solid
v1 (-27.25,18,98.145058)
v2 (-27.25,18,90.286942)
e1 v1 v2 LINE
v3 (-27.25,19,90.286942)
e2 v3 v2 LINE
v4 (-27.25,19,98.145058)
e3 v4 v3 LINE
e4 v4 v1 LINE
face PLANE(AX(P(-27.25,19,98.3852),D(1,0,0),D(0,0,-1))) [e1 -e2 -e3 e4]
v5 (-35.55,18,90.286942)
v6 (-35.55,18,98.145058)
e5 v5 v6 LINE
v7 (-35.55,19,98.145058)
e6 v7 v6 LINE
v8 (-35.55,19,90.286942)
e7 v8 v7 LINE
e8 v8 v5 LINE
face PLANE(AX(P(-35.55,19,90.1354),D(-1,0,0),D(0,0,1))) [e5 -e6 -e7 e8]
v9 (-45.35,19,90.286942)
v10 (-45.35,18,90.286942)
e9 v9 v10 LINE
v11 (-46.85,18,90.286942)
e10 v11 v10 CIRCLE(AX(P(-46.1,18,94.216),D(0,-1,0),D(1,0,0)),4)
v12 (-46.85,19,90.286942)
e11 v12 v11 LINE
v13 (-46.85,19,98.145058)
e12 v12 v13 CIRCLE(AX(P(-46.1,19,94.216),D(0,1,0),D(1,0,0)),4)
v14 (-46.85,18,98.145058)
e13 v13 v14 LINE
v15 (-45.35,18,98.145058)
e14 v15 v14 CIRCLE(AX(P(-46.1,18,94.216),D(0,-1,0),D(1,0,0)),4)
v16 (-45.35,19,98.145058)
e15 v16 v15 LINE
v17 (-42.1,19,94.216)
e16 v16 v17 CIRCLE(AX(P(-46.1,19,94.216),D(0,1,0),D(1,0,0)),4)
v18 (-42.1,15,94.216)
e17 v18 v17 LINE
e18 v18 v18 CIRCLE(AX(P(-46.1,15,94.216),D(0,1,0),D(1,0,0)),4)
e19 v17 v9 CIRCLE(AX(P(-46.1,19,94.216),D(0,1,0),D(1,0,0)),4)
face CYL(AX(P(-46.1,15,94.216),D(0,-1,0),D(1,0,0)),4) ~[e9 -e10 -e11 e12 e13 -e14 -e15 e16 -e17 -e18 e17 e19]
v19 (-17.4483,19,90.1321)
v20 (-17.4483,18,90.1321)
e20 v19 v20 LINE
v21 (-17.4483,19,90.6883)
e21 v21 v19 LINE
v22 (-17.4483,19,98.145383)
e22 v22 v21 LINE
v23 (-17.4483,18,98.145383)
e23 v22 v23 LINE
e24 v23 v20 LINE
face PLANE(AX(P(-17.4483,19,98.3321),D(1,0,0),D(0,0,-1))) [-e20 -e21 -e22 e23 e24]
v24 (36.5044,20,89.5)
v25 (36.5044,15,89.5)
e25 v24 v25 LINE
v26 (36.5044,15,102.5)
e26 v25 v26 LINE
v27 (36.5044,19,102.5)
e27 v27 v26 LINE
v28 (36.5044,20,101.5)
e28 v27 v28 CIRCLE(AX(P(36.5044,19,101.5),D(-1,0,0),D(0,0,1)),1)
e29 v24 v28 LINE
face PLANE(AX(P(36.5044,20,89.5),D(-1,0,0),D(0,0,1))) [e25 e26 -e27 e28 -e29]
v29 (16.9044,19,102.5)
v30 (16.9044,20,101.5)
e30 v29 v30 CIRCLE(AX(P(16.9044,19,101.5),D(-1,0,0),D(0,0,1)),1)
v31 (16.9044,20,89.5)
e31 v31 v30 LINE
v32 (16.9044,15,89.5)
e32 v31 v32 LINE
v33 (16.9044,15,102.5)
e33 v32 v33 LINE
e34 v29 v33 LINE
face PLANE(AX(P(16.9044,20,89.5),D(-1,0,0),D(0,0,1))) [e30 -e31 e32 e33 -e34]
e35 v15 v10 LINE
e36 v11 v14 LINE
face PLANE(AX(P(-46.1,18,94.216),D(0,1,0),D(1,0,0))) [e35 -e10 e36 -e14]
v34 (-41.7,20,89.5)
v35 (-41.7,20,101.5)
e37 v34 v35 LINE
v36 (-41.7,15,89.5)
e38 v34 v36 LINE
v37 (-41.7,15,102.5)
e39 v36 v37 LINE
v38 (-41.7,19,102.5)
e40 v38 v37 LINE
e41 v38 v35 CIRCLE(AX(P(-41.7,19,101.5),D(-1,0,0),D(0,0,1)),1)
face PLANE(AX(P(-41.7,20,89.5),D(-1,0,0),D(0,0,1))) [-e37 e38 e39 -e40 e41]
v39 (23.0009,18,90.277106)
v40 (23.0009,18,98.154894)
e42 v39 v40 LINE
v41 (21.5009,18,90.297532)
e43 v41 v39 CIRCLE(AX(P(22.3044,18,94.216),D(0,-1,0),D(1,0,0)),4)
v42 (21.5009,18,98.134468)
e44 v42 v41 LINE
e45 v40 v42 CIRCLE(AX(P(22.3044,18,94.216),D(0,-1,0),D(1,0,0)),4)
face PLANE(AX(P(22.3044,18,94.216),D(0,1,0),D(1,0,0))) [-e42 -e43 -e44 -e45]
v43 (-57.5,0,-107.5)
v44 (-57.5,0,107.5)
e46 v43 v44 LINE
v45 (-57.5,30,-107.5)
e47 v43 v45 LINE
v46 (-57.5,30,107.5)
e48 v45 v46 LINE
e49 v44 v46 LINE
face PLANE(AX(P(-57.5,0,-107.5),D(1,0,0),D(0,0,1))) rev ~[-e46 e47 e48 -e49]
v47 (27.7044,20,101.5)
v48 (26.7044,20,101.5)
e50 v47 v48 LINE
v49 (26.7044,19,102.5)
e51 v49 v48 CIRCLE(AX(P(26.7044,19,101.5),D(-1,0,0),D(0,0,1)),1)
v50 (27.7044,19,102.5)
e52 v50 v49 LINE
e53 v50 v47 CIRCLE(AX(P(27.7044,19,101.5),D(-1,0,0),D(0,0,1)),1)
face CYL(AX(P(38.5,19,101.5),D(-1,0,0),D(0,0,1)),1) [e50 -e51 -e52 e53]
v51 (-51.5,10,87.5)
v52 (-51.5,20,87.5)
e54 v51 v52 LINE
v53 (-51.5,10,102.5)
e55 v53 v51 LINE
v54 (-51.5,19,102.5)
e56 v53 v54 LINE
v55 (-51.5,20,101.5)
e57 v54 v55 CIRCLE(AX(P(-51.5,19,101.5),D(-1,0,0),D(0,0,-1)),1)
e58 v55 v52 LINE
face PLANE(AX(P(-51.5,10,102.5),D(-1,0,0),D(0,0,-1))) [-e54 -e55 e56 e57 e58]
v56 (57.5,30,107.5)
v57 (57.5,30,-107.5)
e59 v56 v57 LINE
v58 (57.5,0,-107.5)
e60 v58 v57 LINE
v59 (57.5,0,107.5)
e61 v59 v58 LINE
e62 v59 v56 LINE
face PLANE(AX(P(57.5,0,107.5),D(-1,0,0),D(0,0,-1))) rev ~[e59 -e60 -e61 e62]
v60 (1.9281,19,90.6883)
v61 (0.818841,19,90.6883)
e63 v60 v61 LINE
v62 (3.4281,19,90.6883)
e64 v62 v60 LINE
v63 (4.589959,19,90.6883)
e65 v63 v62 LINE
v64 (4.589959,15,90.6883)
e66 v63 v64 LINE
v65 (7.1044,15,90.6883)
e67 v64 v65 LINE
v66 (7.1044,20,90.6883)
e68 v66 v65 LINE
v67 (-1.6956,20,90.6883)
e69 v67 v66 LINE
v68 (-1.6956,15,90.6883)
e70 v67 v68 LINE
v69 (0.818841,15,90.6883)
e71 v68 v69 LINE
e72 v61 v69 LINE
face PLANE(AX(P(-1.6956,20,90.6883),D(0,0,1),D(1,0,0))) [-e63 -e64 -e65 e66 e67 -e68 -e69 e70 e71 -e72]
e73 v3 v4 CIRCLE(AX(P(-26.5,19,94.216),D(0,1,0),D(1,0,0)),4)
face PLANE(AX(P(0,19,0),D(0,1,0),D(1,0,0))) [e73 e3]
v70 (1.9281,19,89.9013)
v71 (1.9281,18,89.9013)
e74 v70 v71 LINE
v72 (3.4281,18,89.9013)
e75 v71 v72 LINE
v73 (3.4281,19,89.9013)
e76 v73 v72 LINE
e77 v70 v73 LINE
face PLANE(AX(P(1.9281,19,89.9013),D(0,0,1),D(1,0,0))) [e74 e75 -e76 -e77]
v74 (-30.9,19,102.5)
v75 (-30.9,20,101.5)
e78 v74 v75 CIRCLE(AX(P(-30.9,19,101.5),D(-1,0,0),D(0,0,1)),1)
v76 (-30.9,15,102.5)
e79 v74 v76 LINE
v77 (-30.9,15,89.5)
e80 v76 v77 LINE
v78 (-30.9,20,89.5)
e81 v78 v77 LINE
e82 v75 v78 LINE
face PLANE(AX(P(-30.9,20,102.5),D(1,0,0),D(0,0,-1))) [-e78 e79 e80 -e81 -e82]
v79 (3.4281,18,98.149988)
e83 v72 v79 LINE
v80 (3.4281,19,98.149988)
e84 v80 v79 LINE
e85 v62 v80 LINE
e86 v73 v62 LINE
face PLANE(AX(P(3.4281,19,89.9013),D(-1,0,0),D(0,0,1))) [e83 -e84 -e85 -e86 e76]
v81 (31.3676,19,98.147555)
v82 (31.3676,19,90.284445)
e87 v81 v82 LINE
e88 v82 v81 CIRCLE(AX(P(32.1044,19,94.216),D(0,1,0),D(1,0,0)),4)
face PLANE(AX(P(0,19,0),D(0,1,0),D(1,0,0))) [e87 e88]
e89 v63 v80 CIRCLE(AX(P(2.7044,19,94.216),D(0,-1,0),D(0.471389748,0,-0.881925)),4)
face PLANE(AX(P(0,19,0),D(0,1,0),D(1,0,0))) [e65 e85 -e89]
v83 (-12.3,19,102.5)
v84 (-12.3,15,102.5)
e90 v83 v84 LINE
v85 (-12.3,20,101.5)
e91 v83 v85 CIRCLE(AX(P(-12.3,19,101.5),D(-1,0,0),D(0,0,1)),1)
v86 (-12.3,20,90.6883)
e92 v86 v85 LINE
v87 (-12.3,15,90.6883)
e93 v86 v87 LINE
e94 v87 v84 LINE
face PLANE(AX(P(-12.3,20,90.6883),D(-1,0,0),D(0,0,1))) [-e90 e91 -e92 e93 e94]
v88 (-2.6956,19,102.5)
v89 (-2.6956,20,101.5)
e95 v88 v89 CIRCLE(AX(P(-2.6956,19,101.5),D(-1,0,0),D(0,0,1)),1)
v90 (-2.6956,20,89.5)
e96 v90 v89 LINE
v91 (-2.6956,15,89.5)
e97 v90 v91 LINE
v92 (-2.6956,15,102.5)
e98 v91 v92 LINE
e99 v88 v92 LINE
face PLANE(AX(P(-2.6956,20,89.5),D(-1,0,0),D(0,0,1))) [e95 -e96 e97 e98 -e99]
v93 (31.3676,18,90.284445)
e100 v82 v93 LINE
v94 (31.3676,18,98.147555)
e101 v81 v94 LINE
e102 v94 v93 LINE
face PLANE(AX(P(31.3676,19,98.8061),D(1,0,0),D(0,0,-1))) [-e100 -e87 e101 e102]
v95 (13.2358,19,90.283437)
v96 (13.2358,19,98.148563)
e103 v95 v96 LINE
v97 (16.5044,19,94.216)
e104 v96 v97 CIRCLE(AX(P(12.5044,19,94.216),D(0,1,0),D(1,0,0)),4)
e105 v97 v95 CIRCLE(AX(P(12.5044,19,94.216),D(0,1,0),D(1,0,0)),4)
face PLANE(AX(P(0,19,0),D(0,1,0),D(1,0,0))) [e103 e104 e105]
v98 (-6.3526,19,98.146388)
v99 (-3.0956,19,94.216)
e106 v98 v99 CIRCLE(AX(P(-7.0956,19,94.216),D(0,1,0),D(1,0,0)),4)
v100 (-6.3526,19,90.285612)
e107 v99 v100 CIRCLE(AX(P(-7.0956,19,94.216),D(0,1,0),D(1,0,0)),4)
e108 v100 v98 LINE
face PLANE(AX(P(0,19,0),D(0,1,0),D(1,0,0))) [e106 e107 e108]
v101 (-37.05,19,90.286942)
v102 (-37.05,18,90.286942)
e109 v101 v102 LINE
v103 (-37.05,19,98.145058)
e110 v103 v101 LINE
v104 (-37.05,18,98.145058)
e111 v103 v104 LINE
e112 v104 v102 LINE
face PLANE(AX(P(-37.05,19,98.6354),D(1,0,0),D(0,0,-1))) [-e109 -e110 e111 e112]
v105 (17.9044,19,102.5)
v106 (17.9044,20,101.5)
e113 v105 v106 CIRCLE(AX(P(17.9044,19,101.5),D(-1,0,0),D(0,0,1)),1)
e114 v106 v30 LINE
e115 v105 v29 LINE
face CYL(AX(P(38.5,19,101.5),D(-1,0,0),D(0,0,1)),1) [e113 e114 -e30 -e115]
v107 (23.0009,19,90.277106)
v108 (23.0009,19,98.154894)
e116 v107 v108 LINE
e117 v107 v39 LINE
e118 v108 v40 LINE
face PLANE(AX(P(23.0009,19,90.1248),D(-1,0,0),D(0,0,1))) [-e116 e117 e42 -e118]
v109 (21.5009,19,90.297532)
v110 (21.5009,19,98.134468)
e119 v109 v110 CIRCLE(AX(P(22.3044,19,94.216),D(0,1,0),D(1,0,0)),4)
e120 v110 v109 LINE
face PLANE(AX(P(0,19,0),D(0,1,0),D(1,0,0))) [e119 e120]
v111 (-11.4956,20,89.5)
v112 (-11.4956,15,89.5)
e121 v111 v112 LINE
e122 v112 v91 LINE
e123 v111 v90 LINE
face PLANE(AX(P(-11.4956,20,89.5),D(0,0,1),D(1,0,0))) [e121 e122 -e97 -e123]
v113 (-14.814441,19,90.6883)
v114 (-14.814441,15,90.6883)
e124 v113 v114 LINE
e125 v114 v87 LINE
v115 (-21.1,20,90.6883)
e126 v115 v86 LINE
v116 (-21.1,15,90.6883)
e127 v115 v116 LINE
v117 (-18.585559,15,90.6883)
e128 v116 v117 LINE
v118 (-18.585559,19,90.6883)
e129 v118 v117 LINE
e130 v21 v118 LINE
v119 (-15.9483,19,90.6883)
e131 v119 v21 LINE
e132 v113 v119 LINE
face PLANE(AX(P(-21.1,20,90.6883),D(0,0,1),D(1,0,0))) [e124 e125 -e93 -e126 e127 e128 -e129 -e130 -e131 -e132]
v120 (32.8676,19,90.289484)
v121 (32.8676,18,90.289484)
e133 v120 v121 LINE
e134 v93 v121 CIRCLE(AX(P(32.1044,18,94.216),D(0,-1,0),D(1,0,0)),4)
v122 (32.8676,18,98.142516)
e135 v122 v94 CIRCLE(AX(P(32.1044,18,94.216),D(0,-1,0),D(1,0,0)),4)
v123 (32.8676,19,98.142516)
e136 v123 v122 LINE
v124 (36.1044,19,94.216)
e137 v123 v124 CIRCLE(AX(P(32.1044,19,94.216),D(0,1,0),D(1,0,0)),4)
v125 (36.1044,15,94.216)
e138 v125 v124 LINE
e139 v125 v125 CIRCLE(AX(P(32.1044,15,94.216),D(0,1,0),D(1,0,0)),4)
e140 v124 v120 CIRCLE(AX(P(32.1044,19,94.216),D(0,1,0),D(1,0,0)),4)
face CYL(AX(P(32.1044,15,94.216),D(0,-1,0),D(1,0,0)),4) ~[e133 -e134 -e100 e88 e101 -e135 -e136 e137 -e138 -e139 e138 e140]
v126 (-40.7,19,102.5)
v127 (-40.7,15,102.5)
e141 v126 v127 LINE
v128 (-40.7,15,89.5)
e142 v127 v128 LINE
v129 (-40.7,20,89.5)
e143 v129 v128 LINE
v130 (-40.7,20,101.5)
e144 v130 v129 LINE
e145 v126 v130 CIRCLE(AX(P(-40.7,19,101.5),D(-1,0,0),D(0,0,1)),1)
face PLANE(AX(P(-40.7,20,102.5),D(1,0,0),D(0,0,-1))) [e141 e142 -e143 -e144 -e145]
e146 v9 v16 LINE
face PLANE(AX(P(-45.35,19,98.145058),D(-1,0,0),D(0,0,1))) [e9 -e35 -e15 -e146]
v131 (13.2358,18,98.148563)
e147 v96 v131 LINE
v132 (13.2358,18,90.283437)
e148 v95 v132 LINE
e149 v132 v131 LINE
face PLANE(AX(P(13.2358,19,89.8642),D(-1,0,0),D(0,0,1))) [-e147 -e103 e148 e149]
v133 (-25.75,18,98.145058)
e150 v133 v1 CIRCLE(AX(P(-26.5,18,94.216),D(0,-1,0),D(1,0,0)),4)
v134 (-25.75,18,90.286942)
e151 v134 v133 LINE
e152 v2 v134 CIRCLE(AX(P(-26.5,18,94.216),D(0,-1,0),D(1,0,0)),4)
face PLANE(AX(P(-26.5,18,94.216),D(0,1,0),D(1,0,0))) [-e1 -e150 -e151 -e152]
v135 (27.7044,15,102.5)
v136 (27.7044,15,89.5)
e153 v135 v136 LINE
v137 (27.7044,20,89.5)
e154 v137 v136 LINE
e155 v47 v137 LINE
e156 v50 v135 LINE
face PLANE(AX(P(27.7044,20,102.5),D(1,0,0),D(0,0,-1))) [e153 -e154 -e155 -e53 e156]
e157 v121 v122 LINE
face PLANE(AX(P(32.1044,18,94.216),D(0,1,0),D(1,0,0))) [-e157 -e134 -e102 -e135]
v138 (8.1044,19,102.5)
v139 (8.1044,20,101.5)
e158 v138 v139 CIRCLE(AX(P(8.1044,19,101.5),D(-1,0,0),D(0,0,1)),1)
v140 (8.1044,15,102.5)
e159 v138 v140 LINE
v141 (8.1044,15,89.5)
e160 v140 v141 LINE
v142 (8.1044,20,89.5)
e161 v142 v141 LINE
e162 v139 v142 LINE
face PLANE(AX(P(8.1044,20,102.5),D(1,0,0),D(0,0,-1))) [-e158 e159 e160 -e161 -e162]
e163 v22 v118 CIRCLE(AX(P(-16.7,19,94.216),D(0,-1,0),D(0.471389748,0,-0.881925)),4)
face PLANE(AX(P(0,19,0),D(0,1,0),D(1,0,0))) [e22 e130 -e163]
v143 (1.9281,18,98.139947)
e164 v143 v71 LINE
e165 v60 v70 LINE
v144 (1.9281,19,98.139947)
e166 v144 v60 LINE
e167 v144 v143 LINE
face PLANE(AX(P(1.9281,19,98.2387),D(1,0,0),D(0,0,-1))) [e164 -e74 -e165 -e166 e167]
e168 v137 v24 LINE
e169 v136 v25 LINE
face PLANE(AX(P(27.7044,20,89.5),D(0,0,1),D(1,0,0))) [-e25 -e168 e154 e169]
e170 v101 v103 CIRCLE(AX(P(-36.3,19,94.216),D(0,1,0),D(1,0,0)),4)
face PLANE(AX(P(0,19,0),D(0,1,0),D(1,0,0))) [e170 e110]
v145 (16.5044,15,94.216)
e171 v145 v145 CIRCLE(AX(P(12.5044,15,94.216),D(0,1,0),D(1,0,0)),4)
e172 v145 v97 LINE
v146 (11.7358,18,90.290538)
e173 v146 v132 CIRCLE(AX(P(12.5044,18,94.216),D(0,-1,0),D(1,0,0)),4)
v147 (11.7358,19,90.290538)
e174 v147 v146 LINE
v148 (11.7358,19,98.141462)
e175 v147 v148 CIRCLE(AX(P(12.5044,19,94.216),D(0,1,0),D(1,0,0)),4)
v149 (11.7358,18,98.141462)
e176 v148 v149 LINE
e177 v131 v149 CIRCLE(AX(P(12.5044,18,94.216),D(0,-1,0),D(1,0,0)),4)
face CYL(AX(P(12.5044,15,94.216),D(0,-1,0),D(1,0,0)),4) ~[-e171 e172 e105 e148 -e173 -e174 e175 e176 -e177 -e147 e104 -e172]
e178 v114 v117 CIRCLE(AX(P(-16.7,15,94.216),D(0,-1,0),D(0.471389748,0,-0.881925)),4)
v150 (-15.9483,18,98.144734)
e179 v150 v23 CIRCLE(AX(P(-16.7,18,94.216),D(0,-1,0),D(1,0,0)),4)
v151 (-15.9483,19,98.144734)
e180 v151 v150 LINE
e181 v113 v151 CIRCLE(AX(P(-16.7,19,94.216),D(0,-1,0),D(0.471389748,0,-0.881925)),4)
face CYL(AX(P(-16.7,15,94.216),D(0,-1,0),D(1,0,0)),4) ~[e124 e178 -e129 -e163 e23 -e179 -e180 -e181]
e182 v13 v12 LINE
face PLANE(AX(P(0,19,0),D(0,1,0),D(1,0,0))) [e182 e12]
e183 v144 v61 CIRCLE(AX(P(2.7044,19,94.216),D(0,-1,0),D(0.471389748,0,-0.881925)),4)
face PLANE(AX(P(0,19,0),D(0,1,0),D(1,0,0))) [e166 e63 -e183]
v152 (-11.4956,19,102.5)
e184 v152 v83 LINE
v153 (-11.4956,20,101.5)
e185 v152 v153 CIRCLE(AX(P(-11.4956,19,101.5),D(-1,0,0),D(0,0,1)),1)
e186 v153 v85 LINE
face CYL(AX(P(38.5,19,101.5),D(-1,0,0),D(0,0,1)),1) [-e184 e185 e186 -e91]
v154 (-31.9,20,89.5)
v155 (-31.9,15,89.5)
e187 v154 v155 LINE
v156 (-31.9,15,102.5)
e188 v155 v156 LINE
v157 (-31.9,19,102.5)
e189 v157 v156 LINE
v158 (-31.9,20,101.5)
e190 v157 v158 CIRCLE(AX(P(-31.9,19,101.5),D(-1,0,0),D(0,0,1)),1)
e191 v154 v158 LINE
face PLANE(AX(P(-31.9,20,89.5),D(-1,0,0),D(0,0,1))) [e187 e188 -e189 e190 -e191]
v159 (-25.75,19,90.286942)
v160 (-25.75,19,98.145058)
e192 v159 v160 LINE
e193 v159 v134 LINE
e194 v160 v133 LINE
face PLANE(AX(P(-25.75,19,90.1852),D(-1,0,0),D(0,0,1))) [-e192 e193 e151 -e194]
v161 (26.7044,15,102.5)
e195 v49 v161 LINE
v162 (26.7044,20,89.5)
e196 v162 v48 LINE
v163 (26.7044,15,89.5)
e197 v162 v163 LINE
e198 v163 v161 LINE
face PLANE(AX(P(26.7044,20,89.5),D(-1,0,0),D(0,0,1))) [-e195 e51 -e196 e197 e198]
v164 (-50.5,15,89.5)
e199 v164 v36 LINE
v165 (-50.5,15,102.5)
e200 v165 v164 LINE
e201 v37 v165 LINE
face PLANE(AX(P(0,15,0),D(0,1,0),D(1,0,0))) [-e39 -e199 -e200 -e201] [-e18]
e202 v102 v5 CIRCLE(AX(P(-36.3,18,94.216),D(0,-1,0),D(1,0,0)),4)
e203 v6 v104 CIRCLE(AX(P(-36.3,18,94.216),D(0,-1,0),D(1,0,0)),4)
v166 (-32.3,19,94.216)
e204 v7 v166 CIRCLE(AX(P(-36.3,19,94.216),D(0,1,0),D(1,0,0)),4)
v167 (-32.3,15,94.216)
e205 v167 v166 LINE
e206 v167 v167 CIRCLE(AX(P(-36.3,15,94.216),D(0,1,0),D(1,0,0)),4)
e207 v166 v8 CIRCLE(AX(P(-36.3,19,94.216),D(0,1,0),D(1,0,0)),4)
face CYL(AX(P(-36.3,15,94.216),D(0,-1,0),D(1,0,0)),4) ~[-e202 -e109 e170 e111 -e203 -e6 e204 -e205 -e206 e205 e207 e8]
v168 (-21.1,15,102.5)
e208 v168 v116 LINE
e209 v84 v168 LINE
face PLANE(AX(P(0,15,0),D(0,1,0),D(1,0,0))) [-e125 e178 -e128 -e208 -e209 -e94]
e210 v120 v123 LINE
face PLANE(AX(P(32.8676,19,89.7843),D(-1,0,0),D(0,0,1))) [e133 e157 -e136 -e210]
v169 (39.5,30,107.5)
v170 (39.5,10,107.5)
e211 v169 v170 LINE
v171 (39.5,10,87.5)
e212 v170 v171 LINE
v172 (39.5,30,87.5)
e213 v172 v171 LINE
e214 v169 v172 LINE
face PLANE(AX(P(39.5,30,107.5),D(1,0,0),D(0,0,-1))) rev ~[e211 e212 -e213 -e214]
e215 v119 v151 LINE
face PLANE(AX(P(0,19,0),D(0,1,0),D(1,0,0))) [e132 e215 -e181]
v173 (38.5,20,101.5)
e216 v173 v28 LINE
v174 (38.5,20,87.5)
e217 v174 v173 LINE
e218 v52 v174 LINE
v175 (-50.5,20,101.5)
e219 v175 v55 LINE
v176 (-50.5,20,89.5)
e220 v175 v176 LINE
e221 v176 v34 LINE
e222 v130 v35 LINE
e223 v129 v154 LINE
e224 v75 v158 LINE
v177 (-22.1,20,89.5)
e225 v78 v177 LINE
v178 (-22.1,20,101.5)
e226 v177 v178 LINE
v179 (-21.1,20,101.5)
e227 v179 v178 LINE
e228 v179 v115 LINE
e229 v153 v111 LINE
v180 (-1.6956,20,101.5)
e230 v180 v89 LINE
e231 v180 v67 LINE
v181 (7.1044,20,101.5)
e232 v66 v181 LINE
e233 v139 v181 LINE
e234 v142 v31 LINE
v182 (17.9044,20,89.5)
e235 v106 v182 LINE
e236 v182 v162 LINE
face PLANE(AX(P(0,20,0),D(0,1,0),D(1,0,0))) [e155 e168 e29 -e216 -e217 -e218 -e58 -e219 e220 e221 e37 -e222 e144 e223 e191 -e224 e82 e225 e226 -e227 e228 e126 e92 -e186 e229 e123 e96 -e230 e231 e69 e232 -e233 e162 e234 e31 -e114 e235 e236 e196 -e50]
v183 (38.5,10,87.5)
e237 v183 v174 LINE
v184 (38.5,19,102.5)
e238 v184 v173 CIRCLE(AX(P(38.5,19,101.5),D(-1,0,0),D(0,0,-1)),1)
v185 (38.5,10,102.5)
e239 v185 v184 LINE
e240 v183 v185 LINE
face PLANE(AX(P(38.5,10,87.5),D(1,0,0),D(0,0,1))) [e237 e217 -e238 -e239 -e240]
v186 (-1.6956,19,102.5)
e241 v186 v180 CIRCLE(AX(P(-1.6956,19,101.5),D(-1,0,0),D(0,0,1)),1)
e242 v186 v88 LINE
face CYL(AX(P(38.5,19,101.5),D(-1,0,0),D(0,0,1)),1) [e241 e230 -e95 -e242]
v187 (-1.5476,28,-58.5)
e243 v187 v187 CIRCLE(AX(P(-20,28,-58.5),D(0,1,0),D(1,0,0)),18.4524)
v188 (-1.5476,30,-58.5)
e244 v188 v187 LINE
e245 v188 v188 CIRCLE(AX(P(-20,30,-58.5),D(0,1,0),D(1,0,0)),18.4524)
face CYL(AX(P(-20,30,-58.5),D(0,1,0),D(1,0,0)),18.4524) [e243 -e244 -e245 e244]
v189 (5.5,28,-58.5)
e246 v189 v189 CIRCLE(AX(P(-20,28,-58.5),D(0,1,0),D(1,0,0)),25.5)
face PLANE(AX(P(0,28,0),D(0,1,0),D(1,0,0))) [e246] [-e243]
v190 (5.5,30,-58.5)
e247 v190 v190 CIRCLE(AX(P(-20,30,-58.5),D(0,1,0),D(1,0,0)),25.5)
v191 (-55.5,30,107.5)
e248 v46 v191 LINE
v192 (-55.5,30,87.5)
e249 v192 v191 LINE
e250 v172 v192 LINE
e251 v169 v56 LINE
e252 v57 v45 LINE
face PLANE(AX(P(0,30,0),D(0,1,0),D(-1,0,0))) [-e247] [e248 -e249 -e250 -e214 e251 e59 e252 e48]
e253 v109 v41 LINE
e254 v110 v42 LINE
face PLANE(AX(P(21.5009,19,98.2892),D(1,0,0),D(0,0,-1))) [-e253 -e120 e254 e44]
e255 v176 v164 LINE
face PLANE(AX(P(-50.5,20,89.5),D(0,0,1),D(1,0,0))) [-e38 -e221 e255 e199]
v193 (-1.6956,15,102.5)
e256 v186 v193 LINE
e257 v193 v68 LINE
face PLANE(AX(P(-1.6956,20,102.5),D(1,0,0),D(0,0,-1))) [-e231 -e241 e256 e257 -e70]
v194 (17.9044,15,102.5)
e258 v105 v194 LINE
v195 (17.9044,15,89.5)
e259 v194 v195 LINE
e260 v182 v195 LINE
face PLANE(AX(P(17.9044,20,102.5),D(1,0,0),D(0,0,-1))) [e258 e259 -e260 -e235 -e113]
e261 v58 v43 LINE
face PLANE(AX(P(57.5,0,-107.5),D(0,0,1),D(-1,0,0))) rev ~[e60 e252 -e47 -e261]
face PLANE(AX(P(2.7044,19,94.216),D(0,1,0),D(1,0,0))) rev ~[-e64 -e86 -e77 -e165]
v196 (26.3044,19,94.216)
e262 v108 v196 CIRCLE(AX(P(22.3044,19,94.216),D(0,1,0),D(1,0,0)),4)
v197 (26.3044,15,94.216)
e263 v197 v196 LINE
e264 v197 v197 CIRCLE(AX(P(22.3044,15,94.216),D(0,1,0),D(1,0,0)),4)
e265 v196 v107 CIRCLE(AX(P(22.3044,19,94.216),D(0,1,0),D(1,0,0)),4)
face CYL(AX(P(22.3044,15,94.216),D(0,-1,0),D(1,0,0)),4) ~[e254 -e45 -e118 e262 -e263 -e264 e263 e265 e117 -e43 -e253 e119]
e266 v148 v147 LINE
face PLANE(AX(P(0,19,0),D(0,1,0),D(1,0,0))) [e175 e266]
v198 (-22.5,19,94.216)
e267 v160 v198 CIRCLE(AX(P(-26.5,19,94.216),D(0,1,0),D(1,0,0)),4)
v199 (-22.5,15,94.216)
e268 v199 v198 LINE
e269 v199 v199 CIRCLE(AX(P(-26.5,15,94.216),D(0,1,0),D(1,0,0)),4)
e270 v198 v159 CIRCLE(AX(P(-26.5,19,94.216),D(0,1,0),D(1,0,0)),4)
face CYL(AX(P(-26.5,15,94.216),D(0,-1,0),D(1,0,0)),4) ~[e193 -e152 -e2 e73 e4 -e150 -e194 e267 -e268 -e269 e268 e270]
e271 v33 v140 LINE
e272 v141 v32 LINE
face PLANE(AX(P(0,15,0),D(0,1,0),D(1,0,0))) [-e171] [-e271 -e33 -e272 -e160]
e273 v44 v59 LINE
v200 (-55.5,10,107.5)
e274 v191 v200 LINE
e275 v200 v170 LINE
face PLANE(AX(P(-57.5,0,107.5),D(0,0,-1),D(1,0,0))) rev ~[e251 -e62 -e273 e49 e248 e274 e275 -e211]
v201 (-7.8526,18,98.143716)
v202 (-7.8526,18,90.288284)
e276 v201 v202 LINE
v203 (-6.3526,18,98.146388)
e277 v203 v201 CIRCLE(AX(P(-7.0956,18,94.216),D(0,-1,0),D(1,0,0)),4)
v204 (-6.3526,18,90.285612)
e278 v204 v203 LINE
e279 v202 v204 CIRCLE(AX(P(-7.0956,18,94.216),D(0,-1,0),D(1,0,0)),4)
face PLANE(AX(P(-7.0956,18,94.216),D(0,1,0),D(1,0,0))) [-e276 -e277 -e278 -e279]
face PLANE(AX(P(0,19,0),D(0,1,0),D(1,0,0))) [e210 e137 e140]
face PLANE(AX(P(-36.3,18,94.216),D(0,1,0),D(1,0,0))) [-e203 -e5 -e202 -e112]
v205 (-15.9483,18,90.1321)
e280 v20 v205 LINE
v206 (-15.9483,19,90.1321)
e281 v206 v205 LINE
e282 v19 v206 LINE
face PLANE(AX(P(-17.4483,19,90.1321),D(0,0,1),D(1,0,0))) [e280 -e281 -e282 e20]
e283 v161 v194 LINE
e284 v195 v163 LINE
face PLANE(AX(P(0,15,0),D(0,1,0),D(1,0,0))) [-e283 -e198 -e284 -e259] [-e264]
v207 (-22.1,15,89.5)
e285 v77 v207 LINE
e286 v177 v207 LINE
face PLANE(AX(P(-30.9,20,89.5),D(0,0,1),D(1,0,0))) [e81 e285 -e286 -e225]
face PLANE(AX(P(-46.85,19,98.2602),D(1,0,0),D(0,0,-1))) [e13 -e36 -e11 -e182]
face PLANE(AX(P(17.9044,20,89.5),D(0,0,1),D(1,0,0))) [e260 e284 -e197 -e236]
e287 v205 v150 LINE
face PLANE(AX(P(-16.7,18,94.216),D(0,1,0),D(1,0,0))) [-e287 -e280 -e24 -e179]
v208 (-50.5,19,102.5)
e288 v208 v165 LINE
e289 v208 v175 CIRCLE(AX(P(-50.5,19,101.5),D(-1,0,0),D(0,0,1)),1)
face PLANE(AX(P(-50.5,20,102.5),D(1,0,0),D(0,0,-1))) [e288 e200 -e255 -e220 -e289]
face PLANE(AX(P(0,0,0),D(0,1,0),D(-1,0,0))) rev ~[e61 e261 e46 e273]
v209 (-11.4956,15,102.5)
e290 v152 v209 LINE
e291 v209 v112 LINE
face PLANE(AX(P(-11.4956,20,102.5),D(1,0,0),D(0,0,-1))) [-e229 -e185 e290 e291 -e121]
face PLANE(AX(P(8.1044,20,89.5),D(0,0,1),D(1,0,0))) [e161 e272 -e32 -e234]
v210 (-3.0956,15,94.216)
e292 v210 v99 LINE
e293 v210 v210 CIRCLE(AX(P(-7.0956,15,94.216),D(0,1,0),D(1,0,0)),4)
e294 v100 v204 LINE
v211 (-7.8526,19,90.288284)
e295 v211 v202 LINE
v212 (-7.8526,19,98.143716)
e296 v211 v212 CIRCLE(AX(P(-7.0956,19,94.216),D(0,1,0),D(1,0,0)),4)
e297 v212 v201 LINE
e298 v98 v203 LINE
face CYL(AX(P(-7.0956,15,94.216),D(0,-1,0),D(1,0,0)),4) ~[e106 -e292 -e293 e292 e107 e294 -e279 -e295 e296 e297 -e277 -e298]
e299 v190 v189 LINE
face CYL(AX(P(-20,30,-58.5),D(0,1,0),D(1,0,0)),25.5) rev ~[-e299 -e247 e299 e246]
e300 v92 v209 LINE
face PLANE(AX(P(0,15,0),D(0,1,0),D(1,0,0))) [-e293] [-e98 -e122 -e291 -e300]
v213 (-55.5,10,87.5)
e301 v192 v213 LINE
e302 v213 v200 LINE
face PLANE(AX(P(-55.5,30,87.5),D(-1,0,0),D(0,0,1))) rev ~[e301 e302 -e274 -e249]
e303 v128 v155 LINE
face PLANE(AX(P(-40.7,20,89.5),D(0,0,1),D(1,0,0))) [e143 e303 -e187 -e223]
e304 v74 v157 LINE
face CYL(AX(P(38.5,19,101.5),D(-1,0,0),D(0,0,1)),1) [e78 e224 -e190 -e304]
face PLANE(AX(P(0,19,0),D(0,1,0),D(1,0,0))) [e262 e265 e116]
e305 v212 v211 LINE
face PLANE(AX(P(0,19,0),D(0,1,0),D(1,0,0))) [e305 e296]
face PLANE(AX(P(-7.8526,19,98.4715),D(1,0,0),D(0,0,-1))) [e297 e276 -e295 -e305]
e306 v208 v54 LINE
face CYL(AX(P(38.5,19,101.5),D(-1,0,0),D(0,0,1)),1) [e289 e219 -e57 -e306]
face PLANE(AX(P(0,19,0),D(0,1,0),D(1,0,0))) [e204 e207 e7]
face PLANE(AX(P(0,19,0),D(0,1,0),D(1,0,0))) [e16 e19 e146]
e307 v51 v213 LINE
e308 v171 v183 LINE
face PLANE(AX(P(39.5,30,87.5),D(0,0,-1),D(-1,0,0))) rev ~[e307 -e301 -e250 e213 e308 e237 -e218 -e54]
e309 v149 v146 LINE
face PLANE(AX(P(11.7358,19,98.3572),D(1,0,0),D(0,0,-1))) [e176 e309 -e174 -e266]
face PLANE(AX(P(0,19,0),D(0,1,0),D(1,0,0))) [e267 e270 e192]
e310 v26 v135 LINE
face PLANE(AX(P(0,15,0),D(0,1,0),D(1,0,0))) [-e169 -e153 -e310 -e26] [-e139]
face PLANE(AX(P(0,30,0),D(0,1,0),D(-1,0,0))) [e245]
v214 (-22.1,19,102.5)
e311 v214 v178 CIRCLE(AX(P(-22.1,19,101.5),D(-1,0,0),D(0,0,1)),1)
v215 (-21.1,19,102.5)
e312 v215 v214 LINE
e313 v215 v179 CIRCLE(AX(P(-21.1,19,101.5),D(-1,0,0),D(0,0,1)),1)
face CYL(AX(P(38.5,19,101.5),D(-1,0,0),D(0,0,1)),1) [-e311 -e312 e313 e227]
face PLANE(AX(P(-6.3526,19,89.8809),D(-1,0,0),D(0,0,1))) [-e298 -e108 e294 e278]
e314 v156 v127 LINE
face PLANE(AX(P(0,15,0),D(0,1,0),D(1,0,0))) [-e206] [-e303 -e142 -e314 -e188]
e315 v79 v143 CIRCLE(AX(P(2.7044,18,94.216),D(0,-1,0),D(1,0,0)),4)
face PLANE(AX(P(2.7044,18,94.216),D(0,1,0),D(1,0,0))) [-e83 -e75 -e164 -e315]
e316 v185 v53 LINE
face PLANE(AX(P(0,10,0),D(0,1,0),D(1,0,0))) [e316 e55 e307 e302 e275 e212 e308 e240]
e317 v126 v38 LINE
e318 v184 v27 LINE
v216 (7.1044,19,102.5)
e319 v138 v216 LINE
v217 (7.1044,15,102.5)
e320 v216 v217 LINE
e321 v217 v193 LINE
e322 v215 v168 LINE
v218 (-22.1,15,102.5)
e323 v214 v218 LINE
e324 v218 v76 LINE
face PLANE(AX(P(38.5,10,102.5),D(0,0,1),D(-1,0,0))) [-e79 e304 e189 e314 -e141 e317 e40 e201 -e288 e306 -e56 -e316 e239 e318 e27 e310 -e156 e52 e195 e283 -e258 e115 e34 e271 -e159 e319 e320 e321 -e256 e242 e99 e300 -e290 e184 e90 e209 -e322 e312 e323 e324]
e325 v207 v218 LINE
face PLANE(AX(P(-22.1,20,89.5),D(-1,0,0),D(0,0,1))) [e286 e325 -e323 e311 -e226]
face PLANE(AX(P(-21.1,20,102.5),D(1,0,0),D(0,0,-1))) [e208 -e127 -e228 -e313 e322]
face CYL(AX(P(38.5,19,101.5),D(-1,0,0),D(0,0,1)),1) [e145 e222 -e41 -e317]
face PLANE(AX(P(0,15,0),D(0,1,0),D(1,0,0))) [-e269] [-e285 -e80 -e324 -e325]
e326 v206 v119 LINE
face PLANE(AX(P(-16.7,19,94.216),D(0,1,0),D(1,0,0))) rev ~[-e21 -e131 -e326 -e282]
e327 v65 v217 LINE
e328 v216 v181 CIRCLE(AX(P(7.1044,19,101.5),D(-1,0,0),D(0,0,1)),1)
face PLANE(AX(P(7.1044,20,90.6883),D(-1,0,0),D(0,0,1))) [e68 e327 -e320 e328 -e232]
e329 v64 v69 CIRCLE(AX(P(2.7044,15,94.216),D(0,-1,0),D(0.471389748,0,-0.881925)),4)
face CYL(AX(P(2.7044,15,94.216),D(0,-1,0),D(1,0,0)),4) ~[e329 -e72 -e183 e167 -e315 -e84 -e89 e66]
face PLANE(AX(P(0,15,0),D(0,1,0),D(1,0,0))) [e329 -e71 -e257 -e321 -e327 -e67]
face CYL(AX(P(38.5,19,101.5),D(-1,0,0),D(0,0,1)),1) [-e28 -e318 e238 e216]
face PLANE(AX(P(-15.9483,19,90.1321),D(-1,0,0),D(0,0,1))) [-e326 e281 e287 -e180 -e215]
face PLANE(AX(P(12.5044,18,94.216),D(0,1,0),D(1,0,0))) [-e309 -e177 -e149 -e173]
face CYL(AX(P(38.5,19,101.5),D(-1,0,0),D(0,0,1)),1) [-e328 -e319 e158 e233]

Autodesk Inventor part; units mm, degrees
ref_plane "YZ Plane" through (0, 0, 0) normal (1, 0, 0) x (0, 1, 0)
ref_plane "XZ Plane" through (0, 0, 0) normal (0, 1, 0) x (-1, 0, 0)
ref_plane "XY Plane" through (0, 0, 0) normal (0, 0, 1) x (1, 0, 0)
sketch "Sketch1" plane through (0, 0, 0) normal (0, 1, 0) x (-1, 0, 0)
  line L0 (57.5, 107.5) -> (-57.5, 107.5)
  line L1 (-57.5, 107.5) -> (-57.5, -107.5)
  line L2 (-57.5, -107.5) -> (57.5, -107.5)
  line L3 (57.5, -107.5) -> (57.5, 107.5)
  line L4 (57.5, 107.5) -> (-57.5, -107.5) construction
  line L5 (-57.5, 107.5) -> (57.5, -107.5) construction
  point P0 (0, 0)
  dimension "d0" = 215
  dimension "d1" = 115
extrude "Extrusion1" add sketch "Sketch1" along normal blind 30
sketch "Sketch2" plane through (0, 30, 0) normal (0, 1, 0) x (1, 0, 0)
  line L0 (-57.5, -107.5) -> (57.5, -107.5) projected
  line L1 (-55.5, -107.5) -> (39.5, -107.5)
  line L2 (39.5, -107.5) -> (39.5, -87.5)
  line L3 (39.5, -87.5) -> (-55.5, -87.5)
  line L4 (-55.5, -87.5) -> (-55.5, -107.5)
  line L5 (-57.5, 107.5) -> (-57.5, -107.5) projected
  point P0 (0, 0)
  dimension "d4" = 95
  dimension "d5" = 20
  dimension "d6" = 2
extrude "Extrusion2" cut sketch "Sketch2" against normal blind 20
sketch "Sketch3" plane through (0, 10, 0) normal (0, 1, 0) x (1, 0, 0)
  line L0 (-55.5, -87.5) -> (39.5, -87.5) projected
  line L1 (-51.5, -87.5) -> (38.5, -87.5)
  line L2 (38.5, -87.5) -> (38.5, -102.5)
  line L3 (38.5, -102.5) -> (-51.5, -102.5)
  line L4 (-51.5, -102.5) -> (-51.5, -87.5)
  line L5 (39.5, -87.5) -> (39.5, -107.5) projected
  point P0 (0, 0)
  dimension "d9" = 90
  dimension "d10" = 15
  dimension "d11" = 1
extrude "Extrusion3" add sketch "Sketch3" along normal blind 10
fillet "Fillet1" radius 1 1 edges at (-6.5, 20, 102.5)
sketch "Sketch4" plane through (0, 20, 0) normal (0, 1, 0) x (1, 0, 0)
  line L0 (38.5, -102.5) -> (-51.5, -102.5) projected
  line L1 (-50.5, -89.5) -> (-41.7, -89.5)
  line L2 (-41.7, -89.5) -> (-41.7, -102.5)
  line L3 (-41.7, -102.5) -> (-50.5, -102.5)
  line L4 (-50.5, -102.5) -> (-50.5, -89.5)
  line L5 (-51.5, -87.5) -> (-51.5, -101.5) projected
  line L6 (-55.5, -87.5) -> (39.5, -87.5) projected
  line L7 (-40.7, -89.5) -> (-31.9, -89.5)
  line L8 (-31.9, -89.5) -> (-31.9, -102.5)
  line L9 (-31.9, -102.5) -> (-40.7, -102.5)
  line L10 (-40.7, -102.5) -> (-40.7, -89.5)
  line L11 (-30.9, -89.5) -> (-22.1, -89.5)
  line L12 (-22.1, -89.5) -> (-22.1, -102.5)
  line L13 (-22.1, -102.5) -> (-30.9, -102.5)
  line L14 (-30.9, -102.5) -> (-30.9, -89.5)
  line L15 (-21.1, -90.6883) -> (-12.3, -90.6883)
  line L16 (-12.3, -90.6883) -> (-12.3, -102.5)
  line L17 (-12.3, -102.5) -> (-21.1, -102.5)
  line L18 (-21.1, -102.5) -> (-21.1, -90.6883)
  line L19 (-11.4956, -89.5) -> (-2.6956, -89.5)
  line L20 (-2.6956, -89.5) -> (-2.6956, -102.5)
  line L21 (-2.6956, -102.5) -> (-11.4956, -102.5)
  line L22 (-11.4956, -102.5) -> (-11.4956, -89.5)
  line L23 (-1.6956, -90.6883) -> (7.1044, -90.6883)
  line L24 (7.1044, -90.6883) -> (7.1044, -102.5)
  line L25 (7.1044, -102.5) -> (-1.6956, -102.5)
  line L26 (-1.6956, -102.5) -> (-1.6956, -90.6883)
  line L27 (8.1044, -89.5) -> (16.9044, -89.5)
  line L28 (16.9044, -89.5) -> (16.9044, -102.5)
  line L29 (16.9044, -102.5) -> (8.1044, -102.5)
  line L30 (8.1044, -102.5) -> (8.1044, -89.5)
  line L31 (17.9044, -89.5) -> (26.7044, -89.5)
  line L32 (26.7044, -89.5) -> (26.7044, -102.5)
  line L33 (26.7044, -102.5) -> (17.9044, -102.5)
  line L34 (17.9044, -102.5) -> (17.9044, -89.5)
  line L35 (27.7044, -89.5) -> (36.5044, -89.5)
  line L36 (36.5044, -89.5) -> (36.5044, -102.5)
  line L37 (36.5044, -102.5) -> (27.7044, -102.5)
  line L38 (27.7044, -102.5) -> (27.7044, -89.5)
  point P0 (0, 0)
  point P1 (-22.1, -96)
  point P2 (-26.5, -89.5)
  point P3 (-12.3, -96.5941)
  point P4 (-11.4956, -96)
  point P5 (-7.0956, -89.5)
  point P6 (16.9044, -96)
  point P7 (8.1044, -96)
  point P8 (17.9044, -96)
  point P9 (8.1044, -102.5)
  point P10 (-1.6956, -102.5)
  point P11 (-11.4956, -102.5)
  point P12 (-30.9, -102.5)
  point P13 (-40.7, -102.5)
  point P14 (-50.5, -102.5)
  dimension "d15" = 1
  dimension "d16" = 2
  dimension "d17" = 8.8
  dimension "d18" = 2
  dimension "d19" = 1
  dimension "d20" = 8.8
  dimension "d21" = 1
  dimension "d22" = 8.8
  dimension "d23" = 2
  dimension "d24" = 1
  dimension "d25" = 8.8
  dimension "d26" = 8.8
  dimension "d27" = 1
  dimension "d28" = 2
  dimension "d29" = 8.8
  dimension "d30" = 1
  dimension "d31" = 1
  dimension "d32" = 8.8
  dimension "d33" = 1
  dimension "d34" = 8.8
  dimension "d35" = 1
  dimension "d36" = 8.8
  dimension "d37" = 2
extrude "Extrusion4" cut sketch "Sketch4" against normal blind 5
sketch "Sketch5" plane through (0, 15, 0) normal (0, 1, 0) x (1, 0, 0)
  circle A0 centre (-46.1, -94.216) radius 4
  circle A1 centre (-36.3, -94.216) radius 4
  line L0 (-50.5, -101.5) -> (-50.5, -89.5) projected
  line L1 (-40.7, -101.5) -> (-40.7, -89.5) projected
  circle A2 centre (-26.5, -94.216) radius 4
  line L2 (-30.9, -101.5) -> (-30.9, -89.5) projected
  circle A3 centre (-16.7, -94.216) radius 4
  line L3 (-21.1, -101.5) -> (-21.1, -90.6883) projected
  circle A4 centre (-7.0956, -94.216) radius 4
  line L4 (-11.4956, -101.5) -> (-11.4956, -89.5) projected
  circle A5 centre (2.7044, -94.216) radius 4
  circle A6 centre (12.5044, -94.216) radius 4
  circle A7 centre (22.3044, -94.216) radius 4
  circle A8 centre (32.1044, -94.216) radius 4
  line L5 (-1.6956, -101.5) -> (-1.6956, -90.6883) projected
  line L6 (8.1044, -101.5) -> (8.1044, -89.5) projected
  line L7 (17.9044, -101.5) -> (17.9044, -89.5) projected
  line L8 (27.7044, -101.5) -> (27.7044, -89.5) projected
  point P0 (0, 0)
  dimension "d40" = 4.4
  dimension "d41" = 4.4
  dimension "d42" = 8
  dimension "d43" = 8
  dimension "d44" = 8
  dimension "d45" = 4.4
  dimension "d46" = 4.4
  dimension "d47" = 8
  dimension "d48" = 4.4
  dimension "d49" = 8
  dimension "d50" = 4.4
  dimension "d51" = 8
  dimension "d52" = 4.4
  dimension "d53" = 8
  dimension "d54" = 4.4
  dimension "d55" = 8
  dimension "d56" = 4.4
  dimension "d57" = 8
extrude "Extrusion5" add sketch "Sketch5" along normal blind 4
sketch "Sketch6" plane through (-46.1, 19, 94.216) normal (0, 1, 0) x (1, 0, 0)
  line L0 (0.75, -4.0442) -> (-0.75, -4.0442)
  line L1 (-0.75, -4.0442) -> (-0.75, 4.0442)
  line L2 (-0.75, 4.0442) -> (0.75, 4.0442)
  line L3 (0.75, 4.0442) -> (0.75, -4.0442)
  circle A0 centre (0, 0) radius 4 projected
  line L4 (0.75, -4.0442) -> (-0.75, 4.0442) construction
  line L5 (-0.75, -4.0442) -> (0.75, 4.0442) construction
  point P0 (46.1, 94.216)
  dimension "d60" = 1.5
sketch "Sketch7" plane through (-36.3, 19, 94.216) normal (0, 1, 0) x (1, 0, 0)
  line L0 (0.75, -4.4194) -> (-0.75, -4.4194)
  line L1 (-0.75, -4.4194) -> (-0.75, 4.0806)
  line L2 (-0.75, 4.0806) -> (0.75, 4.0806)
  line L3 (0.75, 4.0806) -> (0.75, -4.4194)
  line L4 (0.75, -3.5641) -> (-0.75, 3.5713) construction
  line L5 (-0.75, -3.5641) -> (0.75, 3.5713) construction
  point P0 (36.3, 94.216)
  point P1 (0, 0.0036)
  dimension "d61" = 1.5
  dimension "d62" = 8.5
sketch "Sketch8" plane through (-26.5, 19, 94.216) normal (0, 1, 0) x (1, 0, 0)
  line L0 (0.75, -4.1692) -> (-0.75, -4.1692)
  line L1 (-0.75, -4.1692) -> (-0.75, 4.0308)
  line L2 (-0.75, 4.0308) -> (0.75, 4.0308)
  line L3 (0.75, 4.0308) -> (0.75, -4.1692)
  line L4 (0.75, -2.9359) -> (-0.75, 5.0641) construction
  line L5 (-0.75, -2.9359) -> (0.75, 5.0641) construction
  point P0 (26.5, 94.216)
  point P1 (0, 1.0641)
  dimension "d63" = 1.5
  dimension "d64" = 8.2
extrude "Extrusion6" cut sketch "Sketch6" against normal blind 1 contours L0 L1 A0 L3 | A0 L1 L3 | A0 L1 L2 L3
extrude "Extrusion7" cut sketch "Sketch7" against normal blind 1
extrude "Extrusion8" cut sketch "Sketch8" against normal blind 1
sketch "Sketch9" plane through (-16.7, 19, 94.216) normal (0, 1, 0) x (1, 0, 0)
  line L0 (0.7517, -4.1161) -> (-0.7483, -4.1161)
  line L1 (-0.7483, -4.1161) -> (-0.7483, 4.0839)
  line L2 (-0.7483, 4.0839) -> (0.7517, 4.0839)
  line L3 (0.7517, 4.0839) -> (0.7517, -4.1161)
  line L4 (0.3696, -1.4172) -> (-1.1304, 4.335) construction
  line L5 (-1.1304, -1.4172) -> (0.3696, 4.335) construction
  point P0 (16.7, 94.216)
  point P1 (-0.3804, 1.4589)
  dimension "d71" = 1.5
  dimension "d72" = 8.2
extrude "Extrusion9" cut sketch "Sketch9" against normal blind 1
sketch "Sketch10" plane through (-7.0956, 19, 94.216) normal (0, 1, 0) x (1, 0, 0)
  line L0 (0.743, -4.2555) -> (-0.757, -4.2555)
  line L1 (-0.757, -4.2555) -> (-0.757, 4.3351)
  line L2 (-0.757, 4.3351) -> (0.743, 4.3351)
  line L3 (0.743, 4.3351) -> (0.743, -4.2555)
  line L4 (0.743, -4.2555) -> (-0.757, 4.3351) construction
  line L5 (-0.757, -4.2555) -> (0.743, 4.3351) construction
  point P0 (7.0956, 94.216)
  point P1 (-0.007, 0.0398)
  dimension "d75" = 1.5
extrude "Extrusion10" cut sketch "Sketch10" against normal blind 1
sketch "Sketch11" plane through (2.7044, 19, 94.216) normal (0, 1, 0) x (1, 0, 0)
  line L0 (0.7237, -4.0227) -> (-0.7763, -4.0227)
  line L1 (-0.7763, -4.0227) -> (-0.7763, 4.3147)
  line L2 (-0.7763, 4.3147) -> (0.7237, 4.3147)
  line L3 (0.7237, 4.3147) -> (0.7237, -4.0227)
  line L4 (0.7237, -4.0227) -> (-0.7763, 4.3147) construction
  line L5 (-0.7763, -4.0227) -> (0.7237, 4.3147) construction
  point P0 (-2.7044, 94.216)
  point P1 (-0.0263, 0.146)
  dimension "d78" = 1.5
extrude "Extrusion11" cut sketch "Sketch11" against normal blind 1
sketch "Sketch12" plane through (12.5044, 19, 94.216) normal (0, 1, 0) x (1, 0, 0)
  line L0 (0.7314, -4.1412) -> (-0.7686, -4.1412)
  line L1 (-0.7686, -4.1412) -> (-0.7686, 4.3518)
  line L2 (-0.7686, 4.3518) -> (0.7314, 4.3518)
  line L3 (0.7314, 4.3518) -> (0.7314, -4.1412)
  line L4 (0.7314, -4.1412) -> (-0.7686, 4.3518) construction
  line L5 (-0.7686, -4.1412) -> (0.7314, 4.3518) construction
  point P0 (-12.5044, 94.216)
  point P1 (-0.0186, 0.1053)
  dimension "d81" = 1.5
extrude "Extrusion12" cut sketch "Sketch12" against normal blind 1
sketch "Sketch13" plane through (22.3044, 19, 94.216) normal (0, 1, 0) x (1, 0, 0)
  line L0 (0.6965, -4.0732) -> (-0.8035, -4.0732)
  line L1 (-0.8035, -4.0732) -> (-0.8035, 4.0912)
  line L2 (-0.8035, 4.0912) -> (0.6965, 4.0912)
  line L3 (0.6965, 4.0912) -> (0.6965, -4.0732)
  line L4 (0.6965, -3.7541) -> (-0.8035, 4.3306) construction
  line L5 (-0.8035, -3.7541) -> (0.6965, 4.3306) construction
  point P0 (-22.3044, 94.216)
  point P1 (-0.0535, 0.2882)
  dimension "d84" = 1.5
extrude "Extrusion13" cut sketch "Sketch13" against normal blind 1
sketch "Sketch14" plane through (32.1044, 19, 94.216) normal (0, 1, 0) x (1, 0, 0)
  line L0 (0.7632, -4.5901) -> (-0.7368, -4.5901)
  line L1 (-0.7368, -4.5901) -> (-0.7368, 4.4317)
  line L2 (-0.7368, 4.4317) -> (0.7632, 4.4317)
  line L3 (0.7632, 4.4317) -> (0.7632, -4.5901)
  line L4 (0.7632, -4.5901) -> (-0.7368, 4.4317) construction
  line L5 (-0.7368, -4.5901) -> (0.7632, 4.4317) construction
  point P0 (-32.1044, 94.216)
  point P1 (0.0132, -0.0792)
  dimension "d87" = 1.5
extrude "Extrusion14" cut sketch "Sketch14" against normal blind 1
sketch "Sketch15" plane through (0, 30, 0) normal (0, 1, 0) x (1, 0, 0)
  circle A0 centre (-20, 58.5) radius 25.5
  line L0 (-57.5, 107.5) -> (-57.5, -107.5) projected
  line L1 (57.5, 107.5) -> (-57.5, 107.5) projected
  line L2 (-57.5, -107.5) -> (57.5, -107.5) projected
  circle A1 centre (-20, 58.5) radius 18.4524
  point P0 (0, 0)
  point P1 (-55.5, -107.5)
extrude "Extrusion15" cut sketch "Sketch15" against normal blind 2
properties part number "24v_Tapmásikamianagyobb"
